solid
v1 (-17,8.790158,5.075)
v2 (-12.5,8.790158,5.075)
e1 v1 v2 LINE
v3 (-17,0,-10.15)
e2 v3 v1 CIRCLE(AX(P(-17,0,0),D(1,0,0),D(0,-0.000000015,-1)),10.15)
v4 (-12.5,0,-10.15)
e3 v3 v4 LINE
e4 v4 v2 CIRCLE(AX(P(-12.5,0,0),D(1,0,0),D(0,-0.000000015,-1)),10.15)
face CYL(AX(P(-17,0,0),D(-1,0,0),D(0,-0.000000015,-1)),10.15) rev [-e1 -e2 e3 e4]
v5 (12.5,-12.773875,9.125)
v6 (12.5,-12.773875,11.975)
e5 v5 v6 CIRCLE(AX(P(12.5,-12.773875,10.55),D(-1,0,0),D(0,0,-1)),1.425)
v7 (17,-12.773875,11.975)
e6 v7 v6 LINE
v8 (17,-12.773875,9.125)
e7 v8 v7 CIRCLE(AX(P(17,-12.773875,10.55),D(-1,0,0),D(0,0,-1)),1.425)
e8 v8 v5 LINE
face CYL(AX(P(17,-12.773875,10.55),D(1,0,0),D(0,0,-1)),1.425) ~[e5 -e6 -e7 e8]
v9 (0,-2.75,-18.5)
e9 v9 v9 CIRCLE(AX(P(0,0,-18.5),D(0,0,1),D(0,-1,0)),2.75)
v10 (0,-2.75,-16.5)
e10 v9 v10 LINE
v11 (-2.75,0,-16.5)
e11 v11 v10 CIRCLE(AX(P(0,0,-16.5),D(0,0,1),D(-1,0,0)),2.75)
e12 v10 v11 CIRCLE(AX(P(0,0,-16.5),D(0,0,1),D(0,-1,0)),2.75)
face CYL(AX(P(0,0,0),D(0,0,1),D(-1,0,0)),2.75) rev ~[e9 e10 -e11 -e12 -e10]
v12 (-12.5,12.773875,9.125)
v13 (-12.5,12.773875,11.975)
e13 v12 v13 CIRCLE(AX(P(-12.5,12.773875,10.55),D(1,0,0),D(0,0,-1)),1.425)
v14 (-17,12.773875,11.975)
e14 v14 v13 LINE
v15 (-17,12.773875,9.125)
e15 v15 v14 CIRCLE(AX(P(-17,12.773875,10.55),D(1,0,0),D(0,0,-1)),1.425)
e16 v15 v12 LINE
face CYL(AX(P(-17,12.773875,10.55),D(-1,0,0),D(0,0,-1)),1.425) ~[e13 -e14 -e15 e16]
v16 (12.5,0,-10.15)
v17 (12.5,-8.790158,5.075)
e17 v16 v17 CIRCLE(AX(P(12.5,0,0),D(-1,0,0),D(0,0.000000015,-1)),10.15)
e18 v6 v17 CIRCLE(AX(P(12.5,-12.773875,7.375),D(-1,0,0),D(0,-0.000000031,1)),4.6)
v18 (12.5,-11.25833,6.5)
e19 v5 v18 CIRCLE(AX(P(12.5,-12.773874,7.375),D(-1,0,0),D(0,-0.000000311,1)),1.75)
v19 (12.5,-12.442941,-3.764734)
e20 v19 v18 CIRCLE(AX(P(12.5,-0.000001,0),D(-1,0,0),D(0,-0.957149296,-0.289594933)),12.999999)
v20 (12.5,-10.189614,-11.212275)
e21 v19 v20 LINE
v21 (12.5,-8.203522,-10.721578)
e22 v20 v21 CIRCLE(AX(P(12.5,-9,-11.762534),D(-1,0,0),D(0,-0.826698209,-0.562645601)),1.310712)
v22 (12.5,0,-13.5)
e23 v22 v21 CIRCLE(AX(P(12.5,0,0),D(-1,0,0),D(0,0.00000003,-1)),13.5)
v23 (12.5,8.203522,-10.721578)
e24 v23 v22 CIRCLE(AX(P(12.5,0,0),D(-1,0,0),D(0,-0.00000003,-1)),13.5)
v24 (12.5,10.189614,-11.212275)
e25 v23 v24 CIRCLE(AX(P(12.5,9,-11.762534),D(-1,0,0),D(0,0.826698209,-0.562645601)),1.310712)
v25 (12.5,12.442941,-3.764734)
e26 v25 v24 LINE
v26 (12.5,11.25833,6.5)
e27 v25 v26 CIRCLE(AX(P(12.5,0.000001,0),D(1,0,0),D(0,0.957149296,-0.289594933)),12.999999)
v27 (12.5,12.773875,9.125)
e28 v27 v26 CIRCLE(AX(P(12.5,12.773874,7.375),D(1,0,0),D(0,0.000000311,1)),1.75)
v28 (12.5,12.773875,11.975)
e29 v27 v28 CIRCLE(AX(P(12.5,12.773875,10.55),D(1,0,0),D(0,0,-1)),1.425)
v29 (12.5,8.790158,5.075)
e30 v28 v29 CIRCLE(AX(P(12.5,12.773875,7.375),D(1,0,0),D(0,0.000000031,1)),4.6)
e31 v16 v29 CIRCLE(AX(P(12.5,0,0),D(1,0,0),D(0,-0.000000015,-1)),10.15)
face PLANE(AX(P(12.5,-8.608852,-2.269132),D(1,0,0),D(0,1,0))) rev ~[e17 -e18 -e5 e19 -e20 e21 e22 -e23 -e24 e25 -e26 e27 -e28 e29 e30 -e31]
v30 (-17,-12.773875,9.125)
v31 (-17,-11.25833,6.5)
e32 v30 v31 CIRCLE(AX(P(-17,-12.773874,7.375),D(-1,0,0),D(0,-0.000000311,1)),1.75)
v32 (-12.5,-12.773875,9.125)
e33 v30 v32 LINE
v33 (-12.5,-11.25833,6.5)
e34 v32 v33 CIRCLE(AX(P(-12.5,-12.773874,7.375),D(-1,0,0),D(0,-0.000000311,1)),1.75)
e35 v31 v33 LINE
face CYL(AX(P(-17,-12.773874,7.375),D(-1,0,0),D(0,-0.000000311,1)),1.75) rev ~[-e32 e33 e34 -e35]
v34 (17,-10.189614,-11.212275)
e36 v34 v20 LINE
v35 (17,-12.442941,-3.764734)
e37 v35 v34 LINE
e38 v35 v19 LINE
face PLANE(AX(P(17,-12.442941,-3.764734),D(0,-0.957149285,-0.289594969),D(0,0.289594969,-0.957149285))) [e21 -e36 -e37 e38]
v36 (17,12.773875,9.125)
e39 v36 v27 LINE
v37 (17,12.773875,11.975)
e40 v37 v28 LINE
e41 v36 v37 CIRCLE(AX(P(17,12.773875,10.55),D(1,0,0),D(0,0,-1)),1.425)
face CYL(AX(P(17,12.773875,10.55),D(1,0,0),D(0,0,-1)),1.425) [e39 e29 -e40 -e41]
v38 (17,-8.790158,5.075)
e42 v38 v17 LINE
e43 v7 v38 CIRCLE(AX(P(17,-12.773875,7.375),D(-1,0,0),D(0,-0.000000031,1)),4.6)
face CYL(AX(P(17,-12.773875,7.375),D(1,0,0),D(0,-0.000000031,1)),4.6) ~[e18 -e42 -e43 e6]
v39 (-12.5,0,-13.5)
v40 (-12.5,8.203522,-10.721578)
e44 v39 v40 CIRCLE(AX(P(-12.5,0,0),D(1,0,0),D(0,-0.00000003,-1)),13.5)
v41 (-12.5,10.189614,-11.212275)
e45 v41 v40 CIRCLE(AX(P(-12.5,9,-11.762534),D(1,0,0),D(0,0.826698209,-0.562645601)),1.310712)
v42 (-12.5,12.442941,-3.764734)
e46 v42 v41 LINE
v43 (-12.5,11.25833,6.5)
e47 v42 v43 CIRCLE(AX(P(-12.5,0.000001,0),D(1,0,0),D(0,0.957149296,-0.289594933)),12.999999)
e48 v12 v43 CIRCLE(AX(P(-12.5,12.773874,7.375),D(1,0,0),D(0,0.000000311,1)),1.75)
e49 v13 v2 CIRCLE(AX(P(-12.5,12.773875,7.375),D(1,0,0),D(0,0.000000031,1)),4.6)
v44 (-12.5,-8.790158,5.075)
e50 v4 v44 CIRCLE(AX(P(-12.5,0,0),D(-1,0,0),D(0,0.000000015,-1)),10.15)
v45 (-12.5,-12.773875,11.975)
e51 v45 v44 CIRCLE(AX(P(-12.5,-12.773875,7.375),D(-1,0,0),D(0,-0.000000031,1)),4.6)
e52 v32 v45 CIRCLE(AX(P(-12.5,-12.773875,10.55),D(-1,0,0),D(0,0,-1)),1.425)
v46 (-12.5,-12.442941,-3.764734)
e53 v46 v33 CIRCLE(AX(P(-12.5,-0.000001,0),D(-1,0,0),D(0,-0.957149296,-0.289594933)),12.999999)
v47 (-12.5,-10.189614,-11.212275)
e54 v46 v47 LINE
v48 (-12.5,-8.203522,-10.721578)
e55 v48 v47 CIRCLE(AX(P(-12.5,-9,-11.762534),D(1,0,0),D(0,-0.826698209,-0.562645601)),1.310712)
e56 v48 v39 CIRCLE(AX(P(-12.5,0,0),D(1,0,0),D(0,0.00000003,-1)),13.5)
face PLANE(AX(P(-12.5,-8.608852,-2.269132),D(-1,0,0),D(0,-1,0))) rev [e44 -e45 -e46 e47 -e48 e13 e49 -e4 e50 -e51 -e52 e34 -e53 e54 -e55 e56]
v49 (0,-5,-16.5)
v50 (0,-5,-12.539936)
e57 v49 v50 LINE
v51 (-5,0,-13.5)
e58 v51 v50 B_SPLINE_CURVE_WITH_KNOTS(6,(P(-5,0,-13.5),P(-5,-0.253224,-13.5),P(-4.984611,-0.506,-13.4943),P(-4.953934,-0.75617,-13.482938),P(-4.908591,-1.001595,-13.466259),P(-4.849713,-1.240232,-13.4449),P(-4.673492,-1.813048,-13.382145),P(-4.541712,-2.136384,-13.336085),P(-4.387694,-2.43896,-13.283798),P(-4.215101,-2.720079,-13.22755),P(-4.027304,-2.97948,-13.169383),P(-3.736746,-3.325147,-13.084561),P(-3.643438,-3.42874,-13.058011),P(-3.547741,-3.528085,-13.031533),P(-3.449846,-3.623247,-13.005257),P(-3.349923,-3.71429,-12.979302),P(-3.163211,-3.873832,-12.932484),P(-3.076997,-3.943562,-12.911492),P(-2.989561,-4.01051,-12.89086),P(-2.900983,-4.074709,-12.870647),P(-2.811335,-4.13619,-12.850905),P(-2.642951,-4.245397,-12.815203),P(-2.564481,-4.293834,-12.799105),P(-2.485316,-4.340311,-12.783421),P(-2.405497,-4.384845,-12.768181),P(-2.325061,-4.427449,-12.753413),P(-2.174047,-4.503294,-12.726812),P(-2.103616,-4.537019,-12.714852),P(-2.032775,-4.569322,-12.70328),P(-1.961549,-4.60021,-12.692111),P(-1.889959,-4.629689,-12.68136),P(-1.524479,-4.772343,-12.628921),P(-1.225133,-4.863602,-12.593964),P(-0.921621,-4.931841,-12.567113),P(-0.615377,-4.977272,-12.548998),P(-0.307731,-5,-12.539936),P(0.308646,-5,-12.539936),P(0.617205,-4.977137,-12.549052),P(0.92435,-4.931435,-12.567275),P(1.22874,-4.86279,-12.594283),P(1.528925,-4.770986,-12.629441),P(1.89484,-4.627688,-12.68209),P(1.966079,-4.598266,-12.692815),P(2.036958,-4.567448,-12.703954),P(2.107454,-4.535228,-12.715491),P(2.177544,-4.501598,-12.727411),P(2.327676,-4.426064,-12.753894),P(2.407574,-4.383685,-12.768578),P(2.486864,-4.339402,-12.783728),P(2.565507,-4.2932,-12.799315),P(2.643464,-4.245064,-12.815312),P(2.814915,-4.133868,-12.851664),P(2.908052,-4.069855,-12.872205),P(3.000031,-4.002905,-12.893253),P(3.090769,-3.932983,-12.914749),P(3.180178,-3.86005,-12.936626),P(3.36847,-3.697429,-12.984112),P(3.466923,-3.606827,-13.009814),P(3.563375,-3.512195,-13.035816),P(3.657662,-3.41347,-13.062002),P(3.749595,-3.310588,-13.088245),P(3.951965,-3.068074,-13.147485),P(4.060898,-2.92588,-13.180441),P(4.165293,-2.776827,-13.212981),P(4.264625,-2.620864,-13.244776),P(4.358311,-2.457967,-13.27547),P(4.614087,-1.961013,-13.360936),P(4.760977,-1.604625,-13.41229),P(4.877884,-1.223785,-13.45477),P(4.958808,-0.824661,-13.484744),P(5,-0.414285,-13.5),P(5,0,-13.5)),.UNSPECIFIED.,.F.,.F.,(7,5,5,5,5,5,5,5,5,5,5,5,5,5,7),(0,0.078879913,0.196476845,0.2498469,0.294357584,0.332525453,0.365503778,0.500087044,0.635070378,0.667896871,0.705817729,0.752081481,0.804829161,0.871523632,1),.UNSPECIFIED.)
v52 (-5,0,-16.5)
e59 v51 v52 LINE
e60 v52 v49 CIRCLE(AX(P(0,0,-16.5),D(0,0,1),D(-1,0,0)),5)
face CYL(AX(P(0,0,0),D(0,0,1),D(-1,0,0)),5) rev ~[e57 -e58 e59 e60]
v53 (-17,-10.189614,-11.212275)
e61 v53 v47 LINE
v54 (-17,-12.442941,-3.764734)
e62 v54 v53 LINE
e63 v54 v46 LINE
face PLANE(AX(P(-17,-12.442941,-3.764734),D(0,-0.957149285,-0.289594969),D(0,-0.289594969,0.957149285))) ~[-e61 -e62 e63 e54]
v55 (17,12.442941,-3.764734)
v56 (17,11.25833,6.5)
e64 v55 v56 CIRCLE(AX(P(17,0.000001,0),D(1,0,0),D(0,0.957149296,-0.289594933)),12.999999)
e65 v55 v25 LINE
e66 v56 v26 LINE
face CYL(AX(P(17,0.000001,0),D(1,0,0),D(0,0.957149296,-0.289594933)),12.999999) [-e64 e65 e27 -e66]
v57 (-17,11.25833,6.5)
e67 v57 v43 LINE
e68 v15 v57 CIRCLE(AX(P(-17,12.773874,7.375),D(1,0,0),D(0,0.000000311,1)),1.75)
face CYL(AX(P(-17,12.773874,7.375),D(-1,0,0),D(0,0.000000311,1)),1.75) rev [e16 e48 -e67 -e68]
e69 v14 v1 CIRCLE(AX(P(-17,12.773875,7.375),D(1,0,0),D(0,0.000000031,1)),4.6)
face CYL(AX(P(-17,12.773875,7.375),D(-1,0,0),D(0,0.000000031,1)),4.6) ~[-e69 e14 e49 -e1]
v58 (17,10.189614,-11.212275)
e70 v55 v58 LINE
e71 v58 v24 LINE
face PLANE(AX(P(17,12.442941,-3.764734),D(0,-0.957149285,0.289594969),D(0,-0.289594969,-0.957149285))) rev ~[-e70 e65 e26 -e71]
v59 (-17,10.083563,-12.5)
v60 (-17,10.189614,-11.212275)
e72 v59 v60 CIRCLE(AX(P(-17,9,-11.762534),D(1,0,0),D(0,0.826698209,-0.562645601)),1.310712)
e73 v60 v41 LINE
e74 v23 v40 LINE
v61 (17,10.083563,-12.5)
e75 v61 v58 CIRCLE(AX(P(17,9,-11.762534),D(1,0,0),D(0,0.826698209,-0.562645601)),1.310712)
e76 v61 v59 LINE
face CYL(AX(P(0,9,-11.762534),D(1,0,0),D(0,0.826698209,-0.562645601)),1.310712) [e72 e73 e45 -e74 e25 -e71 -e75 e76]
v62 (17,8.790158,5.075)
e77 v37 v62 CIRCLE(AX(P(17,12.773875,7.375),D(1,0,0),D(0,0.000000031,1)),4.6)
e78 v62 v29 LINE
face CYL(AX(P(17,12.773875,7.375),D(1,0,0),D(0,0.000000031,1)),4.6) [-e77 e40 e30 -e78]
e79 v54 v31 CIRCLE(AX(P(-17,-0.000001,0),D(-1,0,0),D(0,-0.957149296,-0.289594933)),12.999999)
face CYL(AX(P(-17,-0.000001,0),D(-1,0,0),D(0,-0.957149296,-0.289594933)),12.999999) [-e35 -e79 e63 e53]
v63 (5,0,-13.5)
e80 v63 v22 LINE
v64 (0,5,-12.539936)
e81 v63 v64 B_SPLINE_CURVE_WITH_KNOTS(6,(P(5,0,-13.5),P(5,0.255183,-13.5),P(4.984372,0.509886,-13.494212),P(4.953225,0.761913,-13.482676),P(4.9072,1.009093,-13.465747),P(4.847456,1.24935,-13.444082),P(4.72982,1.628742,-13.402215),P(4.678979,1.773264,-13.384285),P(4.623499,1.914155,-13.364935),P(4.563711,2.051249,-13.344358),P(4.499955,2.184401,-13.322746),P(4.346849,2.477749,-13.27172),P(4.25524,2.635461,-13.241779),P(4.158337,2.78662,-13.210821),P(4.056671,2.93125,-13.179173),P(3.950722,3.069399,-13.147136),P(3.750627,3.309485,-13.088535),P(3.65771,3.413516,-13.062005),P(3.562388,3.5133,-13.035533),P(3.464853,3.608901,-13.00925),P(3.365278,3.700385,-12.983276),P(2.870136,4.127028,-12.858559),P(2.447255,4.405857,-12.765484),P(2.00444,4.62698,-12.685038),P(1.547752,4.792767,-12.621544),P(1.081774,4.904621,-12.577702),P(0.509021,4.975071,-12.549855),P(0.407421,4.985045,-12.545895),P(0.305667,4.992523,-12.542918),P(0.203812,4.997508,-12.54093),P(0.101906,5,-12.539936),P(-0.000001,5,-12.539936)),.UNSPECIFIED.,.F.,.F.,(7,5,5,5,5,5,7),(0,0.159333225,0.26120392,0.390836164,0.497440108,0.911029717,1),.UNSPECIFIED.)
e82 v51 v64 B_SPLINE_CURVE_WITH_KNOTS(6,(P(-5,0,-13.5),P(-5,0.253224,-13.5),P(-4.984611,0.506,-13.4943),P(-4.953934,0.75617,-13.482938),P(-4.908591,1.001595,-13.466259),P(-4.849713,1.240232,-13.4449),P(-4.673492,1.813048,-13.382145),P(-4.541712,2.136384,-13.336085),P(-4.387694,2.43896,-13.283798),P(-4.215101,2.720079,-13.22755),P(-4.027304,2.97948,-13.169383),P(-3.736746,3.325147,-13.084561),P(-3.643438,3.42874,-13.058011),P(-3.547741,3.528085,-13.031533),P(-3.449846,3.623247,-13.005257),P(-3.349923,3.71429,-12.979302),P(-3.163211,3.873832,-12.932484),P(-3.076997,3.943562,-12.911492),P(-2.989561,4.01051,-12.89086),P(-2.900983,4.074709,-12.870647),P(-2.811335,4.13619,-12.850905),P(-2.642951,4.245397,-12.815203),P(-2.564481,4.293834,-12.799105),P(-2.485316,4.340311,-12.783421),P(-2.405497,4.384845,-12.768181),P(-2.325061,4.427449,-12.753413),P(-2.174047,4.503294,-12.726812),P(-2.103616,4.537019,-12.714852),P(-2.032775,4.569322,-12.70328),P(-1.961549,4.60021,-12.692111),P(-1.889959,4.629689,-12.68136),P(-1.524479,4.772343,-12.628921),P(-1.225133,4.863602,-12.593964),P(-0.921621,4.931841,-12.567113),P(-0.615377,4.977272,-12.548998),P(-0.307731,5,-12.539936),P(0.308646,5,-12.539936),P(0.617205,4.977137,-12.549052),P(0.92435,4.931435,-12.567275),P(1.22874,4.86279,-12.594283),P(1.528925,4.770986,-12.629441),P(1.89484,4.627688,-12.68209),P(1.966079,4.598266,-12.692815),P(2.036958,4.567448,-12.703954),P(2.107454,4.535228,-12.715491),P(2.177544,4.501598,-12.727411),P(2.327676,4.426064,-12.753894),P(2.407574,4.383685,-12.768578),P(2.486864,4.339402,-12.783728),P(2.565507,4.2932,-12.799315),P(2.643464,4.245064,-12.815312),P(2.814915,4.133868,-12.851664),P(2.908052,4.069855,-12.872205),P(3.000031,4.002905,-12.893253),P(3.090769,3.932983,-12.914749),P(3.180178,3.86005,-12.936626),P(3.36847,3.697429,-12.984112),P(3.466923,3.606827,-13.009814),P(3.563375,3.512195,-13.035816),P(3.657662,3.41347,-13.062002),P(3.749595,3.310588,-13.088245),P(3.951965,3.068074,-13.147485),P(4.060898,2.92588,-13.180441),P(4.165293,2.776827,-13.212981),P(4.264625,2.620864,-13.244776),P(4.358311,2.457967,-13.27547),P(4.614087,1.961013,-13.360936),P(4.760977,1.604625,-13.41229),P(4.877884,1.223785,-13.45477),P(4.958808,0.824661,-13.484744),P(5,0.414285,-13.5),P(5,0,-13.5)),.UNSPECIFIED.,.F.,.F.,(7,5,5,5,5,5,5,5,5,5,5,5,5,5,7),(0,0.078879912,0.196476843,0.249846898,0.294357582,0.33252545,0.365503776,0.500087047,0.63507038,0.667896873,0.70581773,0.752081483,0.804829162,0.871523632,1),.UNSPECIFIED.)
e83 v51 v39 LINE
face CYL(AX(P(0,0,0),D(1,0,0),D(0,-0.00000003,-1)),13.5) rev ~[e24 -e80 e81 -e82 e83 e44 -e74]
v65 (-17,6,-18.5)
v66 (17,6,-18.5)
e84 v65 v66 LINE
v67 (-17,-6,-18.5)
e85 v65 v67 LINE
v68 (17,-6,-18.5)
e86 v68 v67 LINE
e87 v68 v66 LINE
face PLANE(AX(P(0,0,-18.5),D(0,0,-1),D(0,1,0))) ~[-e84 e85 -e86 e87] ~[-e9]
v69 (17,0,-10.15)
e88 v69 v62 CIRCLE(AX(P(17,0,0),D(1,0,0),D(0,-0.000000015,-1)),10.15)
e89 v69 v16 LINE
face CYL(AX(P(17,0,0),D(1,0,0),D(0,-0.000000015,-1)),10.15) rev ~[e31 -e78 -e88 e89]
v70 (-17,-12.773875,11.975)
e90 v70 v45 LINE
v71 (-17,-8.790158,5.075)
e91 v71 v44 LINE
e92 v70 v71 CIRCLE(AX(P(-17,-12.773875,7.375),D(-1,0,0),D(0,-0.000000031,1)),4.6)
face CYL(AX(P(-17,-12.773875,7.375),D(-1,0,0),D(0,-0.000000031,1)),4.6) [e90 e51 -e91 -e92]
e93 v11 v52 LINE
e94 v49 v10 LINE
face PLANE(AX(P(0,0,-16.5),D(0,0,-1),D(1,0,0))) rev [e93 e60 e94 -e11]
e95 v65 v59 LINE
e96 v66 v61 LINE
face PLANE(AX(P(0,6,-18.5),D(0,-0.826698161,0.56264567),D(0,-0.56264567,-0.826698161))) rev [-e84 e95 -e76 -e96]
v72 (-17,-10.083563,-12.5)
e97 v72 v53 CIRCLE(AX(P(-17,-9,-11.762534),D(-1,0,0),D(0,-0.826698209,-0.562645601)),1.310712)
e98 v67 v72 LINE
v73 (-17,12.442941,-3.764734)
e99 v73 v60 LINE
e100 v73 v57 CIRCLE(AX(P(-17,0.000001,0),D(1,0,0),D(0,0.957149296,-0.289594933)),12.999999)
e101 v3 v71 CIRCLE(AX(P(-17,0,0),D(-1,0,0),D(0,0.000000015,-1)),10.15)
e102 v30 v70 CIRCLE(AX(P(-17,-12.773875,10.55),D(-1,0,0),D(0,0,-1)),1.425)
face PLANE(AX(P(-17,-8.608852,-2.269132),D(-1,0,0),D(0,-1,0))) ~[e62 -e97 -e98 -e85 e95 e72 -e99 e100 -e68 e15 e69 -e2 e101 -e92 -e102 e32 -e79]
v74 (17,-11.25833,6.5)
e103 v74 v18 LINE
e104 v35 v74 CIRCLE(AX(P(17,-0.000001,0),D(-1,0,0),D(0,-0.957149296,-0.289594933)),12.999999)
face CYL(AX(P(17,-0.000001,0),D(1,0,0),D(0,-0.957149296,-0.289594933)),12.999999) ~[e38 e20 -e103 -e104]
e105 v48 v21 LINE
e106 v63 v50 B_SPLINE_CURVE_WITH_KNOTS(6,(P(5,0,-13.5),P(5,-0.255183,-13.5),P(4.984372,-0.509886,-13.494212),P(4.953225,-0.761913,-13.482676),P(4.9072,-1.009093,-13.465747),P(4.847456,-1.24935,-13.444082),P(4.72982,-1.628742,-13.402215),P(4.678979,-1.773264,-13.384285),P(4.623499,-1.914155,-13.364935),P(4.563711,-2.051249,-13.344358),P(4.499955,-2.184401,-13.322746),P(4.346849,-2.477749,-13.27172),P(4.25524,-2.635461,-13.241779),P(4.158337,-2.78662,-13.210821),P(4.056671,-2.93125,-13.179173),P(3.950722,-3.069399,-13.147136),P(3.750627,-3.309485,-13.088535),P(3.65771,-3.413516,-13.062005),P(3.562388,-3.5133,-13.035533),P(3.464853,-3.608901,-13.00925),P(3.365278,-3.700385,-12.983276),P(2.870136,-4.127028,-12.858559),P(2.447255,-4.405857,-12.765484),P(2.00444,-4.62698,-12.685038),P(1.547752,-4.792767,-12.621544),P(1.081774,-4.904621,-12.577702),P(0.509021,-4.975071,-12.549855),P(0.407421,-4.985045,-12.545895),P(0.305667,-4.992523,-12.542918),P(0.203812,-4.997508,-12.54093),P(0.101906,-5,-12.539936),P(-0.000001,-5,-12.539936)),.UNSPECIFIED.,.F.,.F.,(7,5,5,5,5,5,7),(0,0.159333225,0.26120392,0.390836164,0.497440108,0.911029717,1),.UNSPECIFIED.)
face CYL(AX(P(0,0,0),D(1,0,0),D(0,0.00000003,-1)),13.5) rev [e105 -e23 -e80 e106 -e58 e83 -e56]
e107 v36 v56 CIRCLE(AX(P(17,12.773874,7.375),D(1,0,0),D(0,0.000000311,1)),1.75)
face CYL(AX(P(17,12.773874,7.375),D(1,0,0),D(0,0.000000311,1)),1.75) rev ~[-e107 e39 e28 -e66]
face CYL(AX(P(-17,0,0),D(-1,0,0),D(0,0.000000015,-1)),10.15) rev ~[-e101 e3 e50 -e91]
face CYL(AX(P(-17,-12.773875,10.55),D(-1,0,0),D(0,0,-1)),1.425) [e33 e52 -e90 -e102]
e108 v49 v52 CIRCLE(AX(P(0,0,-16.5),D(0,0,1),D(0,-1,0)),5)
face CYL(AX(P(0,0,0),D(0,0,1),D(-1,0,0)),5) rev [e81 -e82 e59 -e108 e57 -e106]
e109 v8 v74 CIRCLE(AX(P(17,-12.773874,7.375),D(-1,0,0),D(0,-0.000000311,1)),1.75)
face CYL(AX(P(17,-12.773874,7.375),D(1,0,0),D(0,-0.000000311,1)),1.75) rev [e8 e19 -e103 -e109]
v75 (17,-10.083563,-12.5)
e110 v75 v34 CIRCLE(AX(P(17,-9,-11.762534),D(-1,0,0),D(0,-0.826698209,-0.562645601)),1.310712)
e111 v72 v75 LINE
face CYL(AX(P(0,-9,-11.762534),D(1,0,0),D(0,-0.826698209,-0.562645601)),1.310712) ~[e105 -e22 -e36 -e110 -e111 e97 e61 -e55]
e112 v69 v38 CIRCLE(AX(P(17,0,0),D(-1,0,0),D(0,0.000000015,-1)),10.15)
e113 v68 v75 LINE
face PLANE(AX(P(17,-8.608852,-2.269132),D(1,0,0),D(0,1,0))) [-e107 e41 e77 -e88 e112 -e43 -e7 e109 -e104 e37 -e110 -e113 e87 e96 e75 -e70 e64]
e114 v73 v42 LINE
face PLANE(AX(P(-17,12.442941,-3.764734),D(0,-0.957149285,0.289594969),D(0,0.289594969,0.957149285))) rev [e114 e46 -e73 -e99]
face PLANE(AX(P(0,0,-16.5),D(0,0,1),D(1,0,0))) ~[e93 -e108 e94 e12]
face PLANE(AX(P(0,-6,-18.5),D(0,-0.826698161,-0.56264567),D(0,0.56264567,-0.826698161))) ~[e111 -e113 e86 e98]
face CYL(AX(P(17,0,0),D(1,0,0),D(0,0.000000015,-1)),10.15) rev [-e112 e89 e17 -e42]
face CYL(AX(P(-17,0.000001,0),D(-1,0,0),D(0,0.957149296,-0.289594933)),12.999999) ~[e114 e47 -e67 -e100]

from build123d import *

# Parameters (mm, degrees)
PAD005_DEPTH                  = 17
PAD006_DEPTH                  = 4.5
SKETCH015_R                   = 2.75
POCKET005_DEPTH               = 93.84909
SKETCH016_R                   = 5
POCKET006_DEPTH               = 16.5
PAD005_MIRRORED002_2_DEPTH    = 17
PAD006_MIRRORED002_2_DEPTH    = 4.5
SKETCH015_MIRRORED002_2_R     = 2.75
POCKET005_MIRRORED002_2_DEPTH = 93.84909
SKETCH016_MIRRORED002_2_R     = 5
POCKET006_MIRRORED002_2_DEPTH = 16.5
SKETCH023_W                   = 1
SKETCH023_H                   = 10
POCKET011_DEPTH               = 0.2


with BuildPart() as part:
    # Sketch013 → Pad005 (new body)
    with BuildSketch(Plane.YZ):
        with BuildLine():
            ThreePointArc((0, -13.5), (4.330629, -12.786542), (8.203522, -10.721578))
            ThreePointArc((10.083563, -12.5), (9.900722, -10.810344), (8.203522, -10.721578))
            Line((6, -18.5), (10.083563, -12.5))
            Line((0, -18.5), (6, -18.5))
            Line((0, -13.5), (0, -18.5))
        make_face()
    pad005 = extrude(amount=PAD005_DEPTH)

    # Sketch014 → Pad006 (join)
    with BuildSketch(Plane.YZ.offset(17)):
        with BuildLine():
            ThreePointArc((0, -10.15), (8.790158, -5.075), (8.790158, 5.075))
            ThreePointArc((12.773875, 11.975), (8.790158, 9.675), (8.790158, 5.075))
            ThreePointArc((12.773875, 9.125), (14.198875, 10.55), (12.773875, 11.975))
            ThreePointArc((12.773875, 9.125), (11.25833, 8.25), (11.25833, 6.5))
            ThreePointArc((12.442941, -3.764734), (12.914285, 1.490384), (11.25833, 6.5))
            Line((12.442941, -3.764734), (9.8, -12.5))
            Line((9.8, -12.5), (0, -14.15))
            Line((0, -10.15), (0, -14.15))
        make_face()
    pad006 = extrude(amount=-PAD006_DEPTH)

    # Sketch015 → Pocket005 (cut, through all)
    with BuildSketch(Plane.XY):
        Circle(SKETCH015_R)
    pocket005 = extrude(amount=-POCKET005_DEPTH, mode=Mode.SUBTRACT)

    # Sketch016 → Pocket006 (cut)
    with BuildSketch(Plane.XY):
        Circle(SKETCH016_R)
    pocket006 = extrude(amount=-POCKET006_DEPTH, mode=Mode.SUBTRACT)

    # Sketch013 Mirrored002 2 → Pad005 Mirrored002 2 (add)
    with BuildSketch(Plane(origin=(0, 0, 0), x_dir=(0, -1, 0), z_dir=(-1, 0, 0))):
        with BuildLine():
            ThreePointArc((0, -13.5), (4.330629, -12.786542), (8.203522, -10.721578))
            ThreePointArc((10.083563, -12.5), (9.900722, -10.810344), (8.203522, -10.721578))
            Line((6, -18.5), (10.083563, -12.5))
            Line((0, -18.5), (6, -18.5))
            Line((0, -13.5), (0, -18.5))
        make_face()
    pad005_mirrored002_2 = extrude(amount=-PAD005_MIRRORED002_2_DEPTH)

    # Sketch014 Mirrored002 2 → Pad006 Mirrored002 2 (add)
    with BuildSketch(Plane(origin=(17, 0, 0), x_dir=(0, -1, 0), z_dir=(-1, 0, 0))):
        with BuildLine():
            ThreePointArc((0, -10.15), (8.790158, -5.075), (8.790158, 5.075))
            ThreePointArc((12.773875, 11.975), (8.790158, 9.675), (8.790158, 5.075))
            ThreePointArc((12.773875, 9.125), (14.198875, 10.55), (12.773875, 11.975))
            ThreePointArc((12.773875, 9.125), (11.25833, 8.25), (11.25833, 6.5))
            ThreePointArc((12.442941, -3.764734), (12.914285, 1.490384), (11.25833, 6.5))
            Line((12.442941, -3.764734), (9.8, -12.5))
            Line((9.8, -12.5), (0, -14.15))
            Line((0, -10.15), (0, -14.15))
        make_face()
    pad006_mirrored002_2 = extrude(amount=PAD006_MIRRORED002_2_DEPTH)

    # Sketch015 Mirrored002 2 → Pocket005 Mirrored002 2 (cut, through all)
    with BuildSketch(Plane(origin=(0, 0, 0), x_dir=(1, 0, 0), z_dir=(0, 0, -1))):
        Circle(SKETCH015_MIRRORED002_2_R)
    pocket005_mirrored002_2 = extrude(amount=POCKET005_MIRRORED002_2_DEPTH, mode=Mode.SUBTRACT)

    # Sketch016 Mirrored002 2 → Pocket006 Mirrored002 2 (cut)
    with BuildSketch(Plane(origin=(0, 0, 0), x_dir=(1, 0, 0), z_dir=(0, 0, -1))):
        Circle(SKETCH016_MIRRORED002_2_R)
    pocket006_mirrored002_2 = extrude(amount=POCKET006_MIRRORED002_2_DEPTH, mode=Mode.SUBTRACT)

    # Mirrored003: Pad005, Pad006, Pocket005, Pocket006, Pad005 Mirrored002 2, Pad006 Mirrored002 2, Pocket005 Mirrored002 2, Pocket006 Mirrored002 2 across YZ
    add(pad005.mirror(Plane.YZ))
    add(pad006.mirror(Plane.YZ))
    add(pocket005.mirror(Plane.YZ), mode=Mode.SUBTRACT)
    add(pocket006.mirror(Plane.YZ), mode=Mode.SUBTRACT)
    add(pad005_mirrored002_2.mirror(Plane.YZ))
    add(pad006_mirrored002_2.mirror(Plane.YZ))
    add(pocket005_mirrored002_2.mirror(Plane.YZ), mode=Mode.SUBTRACT)
    add(pocket006_mirrored002_2.mirror(Plane.YZ), mode=Mode.SUBTRACT)

    # Sketch023 → Pocket011 (cut)
    with BuildSketch(Plane.YZ.offset(29)):
        with Locations((0, -15)):
            Rectangle(SKETCH023_W, SKETCH023_H)
    pocket011 = extrude(amount=-POCKET011_DEPTH, mode=Mode.SUBTRACT)

    # Mirrored006: Pocket011 across YZ
    add(pocket011.mirror(Plane.YZ), mode=Mode.SUBTRACT)


solid = part.part
